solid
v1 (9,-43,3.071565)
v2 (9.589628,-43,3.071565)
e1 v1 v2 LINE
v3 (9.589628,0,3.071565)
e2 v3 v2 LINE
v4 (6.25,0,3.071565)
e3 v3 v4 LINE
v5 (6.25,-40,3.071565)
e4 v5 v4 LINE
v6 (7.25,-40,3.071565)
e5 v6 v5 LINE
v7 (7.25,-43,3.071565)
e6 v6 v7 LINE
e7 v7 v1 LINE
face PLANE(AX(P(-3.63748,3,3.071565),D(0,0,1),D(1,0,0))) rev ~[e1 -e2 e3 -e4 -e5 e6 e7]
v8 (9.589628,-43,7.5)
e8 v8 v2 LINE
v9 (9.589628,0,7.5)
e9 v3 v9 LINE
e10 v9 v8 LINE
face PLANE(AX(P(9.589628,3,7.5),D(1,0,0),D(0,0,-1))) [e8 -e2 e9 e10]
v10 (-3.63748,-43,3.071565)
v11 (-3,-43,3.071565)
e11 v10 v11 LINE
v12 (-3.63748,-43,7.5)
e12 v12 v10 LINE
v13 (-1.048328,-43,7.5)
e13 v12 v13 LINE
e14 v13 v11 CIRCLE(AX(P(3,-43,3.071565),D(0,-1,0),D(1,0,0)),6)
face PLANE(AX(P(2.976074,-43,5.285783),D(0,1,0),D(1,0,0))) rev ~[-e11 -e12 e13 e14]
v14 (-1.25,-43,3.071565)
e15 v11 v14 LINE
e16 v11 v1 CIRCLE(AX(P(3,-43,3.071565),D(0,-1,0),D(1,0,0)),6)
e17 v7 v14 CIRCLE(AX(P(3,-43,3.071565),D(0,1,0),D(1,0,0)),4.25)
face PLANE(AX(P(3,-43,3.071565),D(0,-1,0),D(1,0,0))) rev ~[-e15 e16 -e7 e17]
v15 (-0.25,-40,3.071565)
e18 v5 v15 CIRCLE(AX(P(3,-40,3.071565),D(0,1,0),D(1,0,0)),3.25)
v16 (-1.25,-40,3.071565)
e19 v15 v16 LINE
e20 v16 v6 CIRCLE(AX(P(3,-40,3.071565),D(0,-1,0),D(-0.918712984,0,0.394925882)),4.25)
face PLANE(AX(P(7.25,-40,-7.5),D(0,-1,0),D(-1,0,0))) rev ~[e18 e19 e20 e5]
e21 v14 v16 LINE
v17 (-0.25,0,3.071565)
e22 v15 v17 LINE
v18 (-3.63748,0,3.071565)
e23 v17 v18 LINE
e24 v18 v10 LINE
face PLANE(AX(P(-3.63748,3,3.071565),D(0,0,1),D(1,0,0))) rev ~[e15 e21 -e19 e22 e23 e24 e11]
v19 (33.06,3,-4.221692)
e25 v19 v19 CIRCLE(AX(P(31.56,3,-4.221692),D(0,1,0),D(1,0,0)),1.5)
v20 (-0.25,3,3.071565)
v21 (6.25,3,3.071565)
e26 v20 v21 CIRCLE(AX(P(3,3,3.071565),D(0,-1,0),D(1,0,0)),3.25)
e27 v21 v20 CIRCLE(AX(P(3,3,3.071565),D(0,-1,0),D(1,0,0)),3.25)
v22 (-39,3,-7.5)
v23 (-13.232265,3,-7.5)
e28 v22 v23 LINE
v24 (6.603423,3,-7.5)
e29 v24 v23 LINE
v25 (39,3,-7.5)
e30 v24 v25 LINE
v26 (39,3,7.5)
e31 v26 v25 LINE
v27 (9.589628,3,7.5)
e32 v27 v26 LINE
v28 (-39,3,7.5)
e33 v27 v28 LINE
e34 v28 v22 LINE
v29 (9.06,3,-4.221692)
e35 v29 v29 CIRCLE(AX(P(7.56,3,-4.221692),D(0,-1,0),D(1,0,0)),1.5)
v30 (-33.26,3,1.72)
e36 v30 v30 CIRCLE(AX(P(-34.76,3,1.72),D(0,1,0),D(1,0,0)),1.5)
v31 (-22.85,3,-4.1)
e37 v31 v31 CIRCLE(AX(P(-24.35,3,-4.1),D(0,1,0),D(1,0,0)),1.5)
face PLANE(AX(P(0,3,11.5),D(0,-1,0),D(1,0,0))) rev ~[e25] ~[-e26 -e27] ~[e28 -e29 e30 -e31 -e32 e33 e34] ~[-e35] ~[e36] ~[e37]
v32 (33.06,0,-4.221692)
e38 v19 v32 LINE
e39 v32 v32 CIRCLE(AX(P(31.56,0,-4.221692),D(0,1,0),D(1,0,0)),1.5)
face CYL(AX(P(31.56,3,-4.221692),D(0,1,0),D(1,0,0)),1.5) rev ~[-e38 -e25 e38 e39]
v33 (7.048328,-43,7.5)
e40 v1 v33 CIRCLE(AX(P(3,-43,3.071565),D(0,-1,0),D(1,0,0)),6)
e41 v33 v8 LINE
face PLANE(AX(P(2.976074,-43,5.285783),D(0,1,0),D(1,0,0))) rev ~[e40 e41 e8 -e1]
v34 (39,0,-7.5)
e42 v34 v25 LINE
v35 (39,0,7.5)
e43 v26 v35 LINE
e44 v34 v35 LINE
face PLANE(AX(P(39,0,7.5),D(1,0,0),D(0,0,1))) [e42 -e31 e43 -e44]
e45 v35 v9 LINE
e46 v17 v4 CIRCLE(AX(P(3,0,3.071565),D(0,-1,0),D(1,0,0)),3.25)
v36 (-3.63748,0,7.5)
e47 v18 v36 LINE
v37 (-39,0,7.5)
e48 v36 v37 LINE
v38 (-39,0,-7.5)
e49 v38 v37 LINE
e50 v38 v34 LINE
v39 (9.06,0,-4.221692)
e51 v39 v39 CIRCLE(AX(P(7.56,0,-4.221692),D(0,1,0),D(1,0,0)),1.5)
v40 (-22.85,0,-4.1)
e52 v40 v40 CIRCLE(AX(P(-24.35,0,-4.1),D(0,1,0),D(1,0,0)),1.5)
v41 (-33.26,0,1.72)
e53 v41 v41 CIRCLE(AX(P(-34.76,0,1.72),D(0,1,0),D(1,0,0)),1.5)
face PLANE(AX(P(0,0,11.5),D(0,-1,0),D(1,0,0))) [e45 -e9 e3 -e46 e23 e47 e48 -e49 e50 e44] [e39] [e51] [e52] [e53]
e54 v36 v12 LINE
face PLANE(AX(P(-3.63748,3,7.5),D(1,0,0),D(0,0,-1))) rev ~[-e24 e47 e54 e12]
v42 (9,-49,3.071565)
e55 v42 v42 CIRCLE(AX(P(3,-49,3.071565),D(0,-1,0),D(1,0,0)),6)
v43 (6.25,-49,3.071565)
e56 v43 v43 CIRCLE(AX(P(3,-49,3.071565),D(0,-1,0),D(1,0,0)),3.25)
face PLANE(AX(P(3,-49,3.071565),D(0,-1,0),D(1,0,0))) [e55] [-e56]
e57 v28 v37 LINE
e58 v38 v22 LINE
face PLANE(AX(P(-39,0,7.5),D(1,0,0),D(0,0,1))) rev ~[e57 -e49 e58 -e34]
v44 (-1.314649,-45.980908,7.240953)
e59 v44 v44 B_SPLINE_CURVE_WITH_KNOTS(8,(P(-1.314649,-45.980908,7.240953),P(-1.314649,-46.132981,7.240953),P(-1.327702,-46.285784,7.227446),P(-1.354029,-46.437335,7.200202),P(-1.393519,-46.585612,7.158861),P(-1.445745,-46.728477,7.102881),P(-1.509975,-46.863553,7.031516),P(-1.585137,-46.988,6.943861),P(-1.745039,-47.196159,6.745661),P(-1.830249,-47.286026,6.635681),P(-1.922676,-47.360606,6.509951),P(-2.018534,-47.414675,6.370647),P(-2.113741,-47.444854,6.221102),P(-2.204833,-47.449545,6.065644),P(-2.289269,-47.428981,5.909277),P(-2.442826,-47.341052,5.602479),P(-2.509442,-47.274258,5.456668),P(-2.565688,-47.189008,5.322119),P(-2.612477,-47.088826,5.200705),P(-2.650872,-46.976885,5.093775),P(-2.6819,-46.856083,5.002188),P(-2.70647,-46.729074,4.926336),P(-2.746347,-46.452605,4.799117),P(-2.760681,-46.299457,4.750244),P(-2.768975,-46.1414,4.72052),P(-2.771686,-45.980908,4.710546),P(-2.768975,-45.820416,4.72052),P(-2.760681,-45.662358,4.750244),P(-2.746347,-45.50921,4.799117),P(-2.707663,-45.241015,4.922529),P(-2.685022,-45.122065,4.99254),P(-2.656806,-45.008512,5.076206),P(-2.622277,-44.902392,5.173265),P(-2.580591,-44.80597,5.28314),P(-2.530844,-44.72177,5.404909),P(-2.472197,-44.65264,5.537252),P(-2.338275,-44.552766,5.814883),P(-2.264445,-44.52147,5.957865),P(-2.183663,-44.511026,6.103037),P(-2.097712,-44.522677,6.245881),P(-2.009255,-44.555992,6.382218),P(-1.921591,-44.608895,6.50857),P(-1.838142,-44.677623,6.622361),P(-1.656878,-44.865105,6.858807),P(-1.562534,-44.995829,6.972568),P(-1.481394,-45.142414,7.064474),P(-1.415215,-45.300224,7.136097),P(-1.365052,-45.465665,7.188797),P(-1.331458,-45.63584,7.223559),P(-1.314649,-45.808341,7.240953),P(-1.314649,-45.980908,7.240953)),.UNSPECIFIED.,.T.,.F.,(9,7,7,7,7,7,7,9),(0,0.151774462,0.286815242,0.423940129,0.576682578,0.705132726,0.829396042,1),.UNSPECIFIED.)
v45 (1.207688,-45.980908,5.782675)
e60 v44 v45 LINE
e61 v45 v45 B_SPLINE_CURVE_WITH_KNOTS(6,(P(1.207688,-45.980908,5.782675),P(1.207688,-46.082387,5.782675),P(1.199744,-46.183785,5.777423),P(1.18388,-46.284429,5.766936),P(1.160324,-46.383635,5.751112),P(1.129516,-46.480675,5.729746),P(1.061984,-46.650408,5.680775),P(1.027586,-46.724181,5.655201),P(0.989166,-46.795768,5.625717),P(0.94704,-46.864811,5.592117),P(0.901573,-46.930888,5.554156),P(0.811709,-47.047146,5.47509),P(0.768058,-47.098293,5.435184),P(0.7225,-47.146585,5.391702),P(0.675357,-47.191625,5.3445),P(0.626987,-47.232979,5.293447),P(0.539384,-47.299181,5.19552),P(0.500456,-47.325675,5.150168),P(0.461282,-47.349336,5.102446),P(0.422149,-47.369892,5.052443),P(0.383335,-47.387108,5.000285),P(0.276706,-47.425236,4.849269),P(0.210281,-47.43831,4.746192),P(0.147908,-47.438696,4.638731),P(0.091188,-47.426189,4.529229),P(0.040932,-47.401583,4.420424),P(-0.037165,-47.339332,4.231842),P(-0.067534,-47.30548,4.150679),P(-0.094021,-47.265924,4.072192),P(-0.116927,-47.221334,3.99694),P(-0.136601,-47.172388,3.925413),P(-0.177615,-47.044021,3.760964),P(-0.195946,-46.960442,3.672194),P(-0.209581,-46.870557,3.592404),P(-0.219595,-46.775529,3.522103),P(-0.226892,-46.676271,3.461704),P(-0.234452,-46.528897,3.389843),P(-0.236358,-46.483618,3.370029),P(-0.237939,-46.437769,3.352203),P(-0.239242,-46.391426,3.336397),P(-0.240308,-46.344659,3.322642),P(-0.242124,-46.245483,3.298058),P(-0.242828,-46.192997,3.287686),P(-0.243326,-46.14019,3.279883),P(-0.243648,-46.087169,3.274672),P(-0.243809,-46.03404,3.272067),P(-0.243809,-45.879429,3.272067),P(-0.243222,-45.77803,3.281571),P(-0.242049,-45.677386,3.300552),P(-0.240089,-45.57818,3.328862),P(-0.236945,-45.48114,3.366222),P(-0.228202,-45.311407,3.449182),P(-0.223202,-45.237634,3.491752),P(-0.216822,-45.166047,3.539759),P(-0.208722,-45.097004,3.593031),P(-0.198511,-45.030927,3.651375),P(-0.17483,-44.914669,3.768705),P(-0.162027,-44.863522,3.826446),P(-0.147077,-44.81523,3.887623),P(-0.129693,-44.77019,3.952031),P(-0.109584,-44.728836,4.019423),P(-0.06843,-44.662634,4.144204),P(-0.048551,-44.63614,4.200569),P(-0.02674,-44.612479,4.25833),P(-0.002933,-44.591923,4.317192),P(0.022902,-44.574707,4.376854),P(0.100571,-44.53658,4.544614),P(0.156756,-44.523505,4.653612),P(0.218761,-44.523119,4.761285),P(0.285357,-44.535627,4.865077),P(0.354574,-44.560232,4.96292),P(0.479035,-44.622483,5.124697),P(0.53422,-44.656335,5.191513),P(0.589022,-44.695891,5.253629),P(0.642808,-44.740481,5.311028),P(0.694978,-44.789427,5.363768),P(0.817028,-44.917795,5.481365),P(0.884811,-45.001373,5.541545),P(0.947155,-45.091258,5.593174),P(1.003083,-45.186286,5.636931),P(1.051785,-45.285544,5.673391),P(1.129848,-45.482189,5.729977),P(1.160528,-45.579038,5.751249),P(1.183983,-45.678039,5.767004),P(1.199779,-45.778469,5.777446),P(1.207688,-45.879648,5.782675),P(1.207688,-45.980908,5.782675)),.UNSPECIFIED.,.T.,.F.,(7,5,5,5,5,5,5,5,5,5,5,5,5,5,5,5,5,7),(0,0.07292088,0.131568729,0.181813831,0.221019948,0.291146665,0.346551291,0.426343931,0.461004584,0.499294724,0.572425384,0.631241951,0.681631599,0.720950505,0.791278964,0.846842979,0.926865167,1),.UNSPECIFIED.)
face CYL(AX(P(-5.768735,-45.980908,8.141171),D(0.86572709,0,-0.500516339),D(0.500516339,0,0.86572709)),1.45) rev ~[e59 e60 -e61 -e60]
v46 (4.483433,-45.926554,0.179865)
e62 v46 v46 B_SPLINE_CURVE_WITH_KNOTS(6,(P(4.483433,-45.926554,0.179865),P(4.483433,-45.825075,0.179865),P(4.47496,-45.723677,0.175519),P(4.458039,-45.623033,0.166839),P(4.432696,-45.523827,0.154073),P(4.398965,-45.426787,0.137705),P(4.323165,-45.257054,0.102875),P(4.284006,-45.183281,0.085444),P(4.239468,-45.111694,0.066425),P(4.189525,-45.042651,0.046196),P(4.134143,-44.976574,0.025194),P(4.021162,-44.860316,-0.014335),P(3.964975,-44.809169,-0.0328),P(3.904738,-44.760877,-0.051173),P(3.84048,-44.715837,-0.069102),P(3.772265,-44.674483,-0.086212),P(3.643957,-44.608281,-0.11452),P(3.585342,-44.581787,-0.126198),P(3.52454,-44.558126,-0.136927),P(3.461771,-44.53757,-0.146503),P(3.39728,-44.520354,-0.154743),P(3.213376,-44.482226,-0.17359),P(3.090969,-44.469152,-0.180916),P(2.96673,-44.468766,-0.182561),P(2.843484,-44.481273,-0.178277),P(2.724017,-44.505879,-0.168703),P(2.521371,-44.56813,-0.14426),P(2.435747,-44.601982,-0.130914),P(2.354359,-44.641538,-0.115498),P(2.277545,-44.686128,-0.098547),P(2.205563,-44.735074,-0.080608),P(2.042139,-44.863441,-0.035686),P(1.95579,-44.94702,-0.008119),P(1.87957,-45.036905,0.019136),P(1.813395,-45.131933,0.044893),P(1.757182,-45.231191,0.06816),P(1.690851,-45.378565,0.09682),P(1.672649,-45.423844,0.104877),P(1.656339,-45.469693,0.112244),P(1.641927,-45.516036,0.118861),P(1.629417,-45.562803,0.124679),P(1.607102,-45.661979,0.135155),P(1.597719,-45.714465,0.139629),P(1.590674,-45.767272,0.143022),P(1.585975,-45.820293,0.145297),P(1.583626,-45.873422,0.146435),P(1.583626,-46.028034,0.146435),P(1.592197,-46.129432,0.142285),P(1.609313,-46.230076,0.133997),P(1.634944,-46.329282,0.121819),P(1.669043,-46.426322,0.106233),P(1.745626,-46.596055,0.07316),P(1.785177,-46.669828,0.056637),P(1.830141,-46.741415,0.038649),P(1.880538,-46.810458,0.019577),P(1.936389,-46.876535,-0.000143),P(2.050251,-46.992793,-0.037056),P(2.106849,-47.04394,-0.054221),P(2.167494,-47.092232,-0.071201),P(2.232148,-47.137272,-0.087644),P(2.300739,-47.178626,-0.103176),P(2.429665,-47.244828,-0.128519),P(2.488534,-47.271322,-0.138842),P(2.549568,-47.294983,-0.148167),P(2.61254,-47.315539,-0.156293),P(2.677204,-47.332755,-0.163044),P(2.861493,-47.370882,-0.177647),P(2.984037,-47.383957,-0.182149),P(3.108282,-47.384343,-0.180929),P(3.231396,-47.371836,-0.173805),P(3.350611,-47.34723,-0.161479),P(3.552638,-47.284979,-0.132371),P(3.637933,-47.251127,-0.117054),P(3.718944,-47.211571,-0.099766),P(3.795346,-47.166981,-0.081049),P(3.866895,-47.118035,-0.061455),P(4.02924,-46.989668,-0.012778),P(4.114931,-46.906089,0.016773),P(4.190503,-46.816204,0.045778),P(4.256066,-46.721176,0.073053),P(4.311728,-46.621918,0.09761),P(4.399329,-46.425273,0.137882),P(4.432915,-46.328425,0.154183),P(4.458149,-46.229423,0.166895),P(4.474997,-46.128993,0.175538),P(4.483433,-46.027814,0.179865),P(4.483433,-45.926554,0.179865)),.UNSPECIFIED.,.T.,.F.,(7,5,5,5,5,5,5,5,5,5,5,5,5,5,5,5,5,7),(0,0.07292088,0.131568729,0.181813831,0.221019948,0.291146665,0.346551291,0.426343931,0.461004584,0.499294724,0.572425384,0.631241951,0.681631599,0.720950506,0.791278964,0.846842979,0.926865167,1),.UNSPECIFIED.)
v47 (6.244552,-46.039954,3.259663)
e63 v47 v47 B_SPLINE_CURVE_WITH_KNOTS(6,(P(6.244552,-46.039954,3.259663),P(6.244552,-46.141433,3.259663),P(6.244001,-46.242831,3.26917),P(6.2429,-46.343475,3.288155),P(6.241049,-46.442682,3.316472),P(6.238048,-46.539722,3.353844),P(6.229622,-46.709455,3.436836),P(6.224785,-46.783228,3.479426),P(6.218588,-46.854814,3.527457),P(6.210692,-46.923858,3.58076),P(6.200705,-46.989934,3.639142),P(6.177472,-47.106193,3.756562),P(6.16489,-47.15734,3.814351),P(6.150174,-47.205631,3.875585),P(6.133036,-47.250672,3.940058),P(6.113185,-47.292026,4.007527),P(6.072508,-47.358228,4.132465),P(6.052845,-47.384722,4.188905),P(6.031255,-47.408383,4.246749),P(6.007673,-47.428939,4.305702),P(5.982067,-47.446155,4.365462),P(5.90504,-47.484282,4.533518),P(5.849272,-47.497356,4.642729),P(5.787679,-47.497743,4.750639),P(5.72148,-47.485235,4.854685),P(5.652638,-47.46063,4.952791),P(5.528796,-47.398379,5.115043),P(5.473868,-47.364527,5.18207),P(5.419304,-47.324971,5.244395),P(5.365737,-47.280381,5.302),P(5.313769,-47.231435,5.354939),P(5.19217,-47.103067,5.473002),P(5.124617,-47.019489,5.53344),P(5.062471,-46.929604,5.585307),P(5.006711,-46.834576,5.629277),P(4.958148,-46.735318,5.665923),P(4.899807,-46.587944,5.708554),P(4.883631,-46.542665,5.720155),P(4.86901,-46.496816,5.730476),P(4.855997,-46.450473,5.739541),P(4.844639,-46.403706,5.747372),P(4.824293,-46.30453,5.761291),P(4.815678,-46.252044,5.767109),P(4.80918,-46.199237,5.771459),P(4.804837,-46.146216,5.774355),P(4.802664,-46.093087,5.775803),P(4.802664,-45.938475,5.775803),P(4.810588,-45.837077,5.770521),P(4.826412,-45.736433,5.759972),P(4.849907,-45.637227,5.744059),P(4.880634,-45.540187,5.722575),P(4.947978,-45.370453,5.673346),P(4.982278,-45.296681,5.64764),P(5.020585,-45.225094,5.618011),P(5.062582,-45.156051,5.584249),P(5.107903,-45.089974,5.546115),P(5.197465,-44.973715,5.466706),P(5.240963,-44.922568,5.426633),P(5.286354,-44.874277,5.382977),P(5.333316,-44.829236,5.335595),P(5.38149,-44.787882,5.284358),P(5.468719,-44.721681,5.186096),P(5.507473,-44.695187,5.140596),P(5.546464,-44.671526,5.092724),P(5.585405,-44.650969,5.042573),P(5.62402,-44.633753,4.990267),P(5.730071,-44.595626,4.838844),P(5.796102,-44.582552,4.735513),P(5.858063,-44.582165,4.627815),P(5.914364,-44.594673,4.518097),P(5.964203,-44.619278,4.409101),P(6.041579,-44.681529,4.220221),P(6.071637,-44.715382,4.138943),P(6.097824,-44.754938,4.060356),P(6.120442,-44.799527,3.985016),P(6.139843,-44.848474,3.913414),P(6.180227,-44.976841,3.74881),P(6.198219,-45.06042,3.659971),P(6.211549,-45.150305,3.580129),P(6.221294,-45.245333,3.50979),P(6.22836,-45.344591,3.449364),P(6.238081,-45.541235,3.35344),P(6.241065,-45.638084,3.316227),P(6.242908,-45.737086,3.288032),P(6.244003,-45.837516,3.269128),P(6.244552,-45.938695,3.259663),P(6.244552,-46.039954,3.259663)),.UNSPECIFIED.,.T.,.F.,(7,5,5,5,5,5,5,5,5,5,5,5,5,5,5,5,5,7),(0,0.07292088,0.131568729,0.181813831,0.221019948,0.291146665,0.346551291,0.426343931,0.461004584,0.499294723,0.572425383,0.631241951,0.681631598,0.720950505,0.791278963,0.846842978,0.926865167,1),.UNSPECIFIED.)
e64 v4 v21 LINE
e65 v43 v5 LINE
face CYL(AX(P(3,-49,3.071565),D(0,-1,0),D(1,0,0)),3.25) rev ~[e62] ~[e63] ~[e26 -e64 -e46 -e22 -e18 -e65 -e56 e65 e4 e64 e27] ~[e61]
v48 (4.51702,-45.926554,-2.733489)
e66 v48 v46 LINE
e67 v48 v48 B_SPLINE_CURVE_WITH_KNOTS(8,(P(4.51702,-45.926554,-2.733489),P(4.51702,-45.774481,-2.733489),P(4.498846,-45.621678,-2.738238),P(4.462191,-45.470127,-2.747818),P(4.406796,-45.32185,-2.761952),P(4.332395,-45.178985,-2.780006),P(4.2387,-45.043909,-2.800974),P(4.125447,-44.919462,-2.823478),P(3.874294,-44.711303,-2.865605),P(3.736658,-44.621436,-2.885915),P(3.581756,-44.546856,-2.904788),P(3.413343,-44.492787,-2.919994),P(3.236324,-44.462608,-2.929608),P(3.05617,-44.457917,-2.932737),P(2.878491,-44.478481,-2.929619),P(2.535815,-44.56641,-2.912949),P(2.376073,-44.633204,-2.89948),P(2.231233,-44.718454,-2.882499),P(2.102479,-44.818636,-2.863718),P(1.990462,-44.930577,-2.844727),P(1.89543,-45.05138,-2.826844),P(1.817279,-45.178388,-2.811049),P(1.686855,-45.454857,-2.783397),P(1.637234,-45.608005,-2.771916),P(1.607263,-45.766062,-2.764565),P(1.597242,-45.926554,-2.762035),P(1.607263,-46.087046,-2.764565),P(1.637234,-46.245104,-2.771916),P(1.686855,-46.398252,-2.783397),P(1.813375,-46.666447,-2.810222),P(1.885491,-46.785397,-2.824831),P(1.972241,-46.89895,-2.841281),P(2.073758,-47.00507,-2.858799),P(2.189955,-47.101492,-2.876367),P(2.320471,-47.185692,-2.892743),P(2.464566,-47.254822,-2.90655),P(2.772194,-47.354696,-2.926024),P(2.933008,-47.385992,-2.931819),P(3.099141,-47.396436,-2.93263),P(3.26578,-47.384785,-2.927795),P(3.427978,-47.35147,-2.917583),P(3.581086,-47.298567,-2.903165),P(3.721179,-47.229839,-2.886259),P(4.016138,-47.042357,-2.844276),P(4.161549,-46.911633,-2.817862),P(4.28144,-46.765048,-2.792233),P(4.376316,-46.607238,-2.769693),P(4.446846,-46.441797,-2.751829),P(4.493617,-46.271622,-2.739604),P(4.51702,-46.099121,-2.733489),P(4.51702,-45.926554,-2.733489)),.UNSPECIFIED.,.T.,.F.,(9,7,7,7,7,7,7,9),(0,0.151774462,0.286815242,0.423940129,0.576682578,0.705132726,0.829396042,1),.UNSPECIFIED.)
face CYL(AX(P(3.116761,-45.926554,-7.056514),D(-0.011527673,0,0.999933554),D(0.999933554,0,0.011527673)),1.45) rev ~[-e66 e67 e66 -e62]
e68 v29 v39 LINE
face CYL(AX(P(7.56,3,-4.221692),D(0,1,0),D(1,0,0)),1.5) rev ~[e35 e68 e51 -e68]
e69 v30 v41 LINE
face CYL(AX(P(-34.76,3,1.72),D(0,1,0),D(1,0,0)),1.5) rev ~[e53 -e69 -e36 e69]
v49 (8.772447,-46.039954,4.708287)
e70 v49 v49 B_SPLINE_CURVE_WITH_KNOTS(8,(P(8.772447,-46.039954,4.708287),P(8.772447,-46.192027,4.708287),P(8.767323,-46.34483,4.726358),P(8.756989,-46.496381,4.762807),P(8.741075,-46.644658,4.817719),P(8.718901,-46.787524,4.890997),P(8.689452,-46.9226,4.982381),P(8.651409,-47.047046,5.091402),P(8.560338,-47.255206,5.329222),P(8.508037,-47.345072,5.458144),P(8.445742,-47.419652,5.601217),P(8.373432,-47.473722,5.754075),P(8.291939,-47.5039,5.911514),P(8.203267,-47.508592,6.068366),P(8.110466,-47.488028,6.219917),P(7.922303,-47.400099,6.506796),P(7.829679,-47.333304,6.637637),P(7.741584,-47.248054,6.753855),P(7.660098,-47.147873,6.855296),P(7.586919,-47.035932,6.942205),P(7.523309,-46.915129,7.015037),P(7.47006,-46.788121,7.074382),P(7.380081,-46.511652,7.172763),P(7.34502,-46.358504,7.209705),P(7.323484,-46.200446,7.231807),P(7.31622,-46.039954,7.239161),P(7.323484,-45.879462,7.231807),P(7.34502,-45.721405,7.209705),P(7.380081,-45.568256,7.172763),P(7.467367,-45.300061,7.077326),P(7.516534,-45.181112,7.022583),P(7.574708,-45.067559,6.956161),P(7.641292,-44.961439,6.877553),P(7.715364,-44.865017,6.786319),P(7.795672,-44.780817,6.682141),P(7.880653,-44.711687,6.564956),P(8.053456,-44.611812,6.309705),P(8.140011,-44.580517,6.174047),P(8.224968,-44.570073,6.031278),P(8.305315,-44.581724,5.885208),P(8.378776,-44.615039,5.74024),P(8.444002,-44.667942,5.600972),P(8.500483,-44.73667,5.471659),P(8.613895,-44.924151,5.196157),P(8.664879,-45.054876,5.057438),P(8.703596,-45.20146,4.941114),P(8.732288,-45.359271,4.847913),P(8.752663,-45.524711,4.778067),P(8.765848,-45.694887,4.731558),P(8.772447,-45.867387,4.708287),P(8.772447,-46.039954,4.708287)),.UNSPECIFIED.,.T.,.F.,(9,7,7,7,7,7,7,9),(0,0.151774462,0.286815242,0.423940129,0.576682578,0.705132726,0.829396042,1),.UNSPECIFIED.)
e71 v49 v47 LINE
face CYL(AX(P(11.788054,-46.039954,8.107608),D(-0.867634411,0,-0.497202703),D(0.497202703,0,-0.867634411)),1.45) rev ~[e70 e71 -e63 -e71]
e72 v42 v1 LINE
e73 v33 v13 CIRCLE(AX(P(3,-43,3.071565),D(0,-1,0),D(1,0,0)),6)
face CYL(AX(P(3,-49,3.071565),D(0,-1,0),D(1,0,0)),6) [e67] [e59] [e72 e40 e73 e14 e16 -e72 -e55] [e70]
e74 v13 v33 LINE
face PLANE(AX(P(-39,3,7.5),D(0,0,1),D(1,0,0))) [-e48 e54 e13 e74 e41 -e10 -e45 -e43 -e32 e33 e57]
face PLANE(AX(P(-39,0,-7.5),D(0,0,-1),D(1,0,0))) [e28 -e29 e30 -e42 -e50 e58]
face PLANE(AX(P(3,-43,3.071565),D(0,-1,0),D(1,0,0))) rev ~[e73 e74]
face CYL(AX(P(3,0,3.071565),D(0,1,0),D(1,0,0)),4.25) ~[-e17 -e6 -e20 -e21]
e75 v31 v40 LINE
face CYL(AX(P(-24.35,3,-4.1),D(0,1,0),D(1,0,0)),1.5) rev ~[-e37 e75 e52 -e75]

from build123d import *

# Parameters (mm, degrees)
SKETCH_1_W                = 78
SKETCH_1_H                = 15
EXTRUDE_1_DEPTH           = 3
SKETCH_3_R                = 1.5
CUT_EXTRUDE_1_DEPTH       = 3
SKETCH_4_R                = 6
EXTRUDE_2_DEPTH           = 18
SKETCH_5_R                = 4.5
CUT_EXTRUDE_2_DEPTH       = 21
F_2_0MM_2_D               = 3
F_2_0MM_2_DEPTH           = 4.5
F_2_0MM_2_TIP             = 1.5
F_2_0MM_2_ON_FACE_2_D     = 3
F_2_0MM_2_ON_FACE_2_DEPTH = 4.5
F_2_0MM_2_ON_FACE_2_TIP   = 1.5
SKETCH_10_W               = 6
SKETCH_10_H               = 10
CUT_EXTRUDE_3_DEPTH       = 7
SKETCH_13_W               = 19.835687411
SKETCH_13_H               = 21.610205193
CUT_EXTRUDE_4_DEPTH       = 20
SKETCH_14_W               = 11.523038103
SKETCH_14_H               = 10.49031299
EXTRUDE_3_DEPTH           = 3
SKETCH_18_W               = 78
SKETCH_18_H               = 8
EXTRUDE_4_DEPTH           = 3
SKETCH_19_W               = 36.767904102
SKETCH_19_H               = 2.5
EXTRUDE_5_DEPTH           = 12.5
SKETCH_23_R               = 1.65
CUT_EXTRUDE_6_DEPTH       = 12.5
SKETCH_25_W               = 4.236607592
SKETCH_25_H               = 5.36409187
EXTRUDE_7_DEPTH           = 2.5
SKETCH_26_R               = 1.6
CUT_EXTRUDE_7_DEPTH       = 2.5
SKETCH_27_W               = 21.346012392
SKETCH_27_H               = 6.594354882
EXTRUDE_8_DEPTH           = 2.5
SKETCH_28_W               = 36.767231154
SKETCH_28_H               = 5.91819544
EXTRUDE_9_DEPTH           = 2.5
SKETCH_29_W               = 27.660340415
SKETCH_29_H               = 3.5
CUT_EXTRUDE_9_DEPTH       = 2.5
SKETCH_30_W               = 78
SKETCH_30_H               = 8
CUT_EXTRUDE_10_DEPTH      = 100
SKETCH_31_W               = 60.820132647
SKETCH_31_H               = 3
EXTRUDE_10_DEPTH          = 49
SKETCH_32_W               = 48
SKETCH_32_H               = 3.2
CUT_EXTRUDE_11_DEPTH      = 49
SKETCH_33_W               = 15
SKETCH_33_H               = 49.05968874
CUT_EXTRUDE_12_DEPTH      = 100
SKETCH_34_R               = 4.25
EXTRUDE_11_DEPTH          = 49
SKETCH_35_R               = 6
EXTRUDE_12_DEPTH          = 6
SKETCH_36_W               = 8.5
SKETCH_36_H               = 40
CUT_EXTRUDE_13_DEPTH      = 11
SKETCH_37_R               = 3.25
CUT_EXTRUDE_16_DEPTH      = 100
SKETCH_39_W               = 8.456699936
SKETCH_39_H               = 16
CUT_EXTRUDE_17_DEPTH      = 1.25
F_3_0MM_1_D               = 2.9
F_3_0MM_1_DEPTH           = 4.128752102
F_3_0MM_1_TIP             = 0.871247898
F_3_0MM_2_D               = 2.9
F_3_0MM_2_DEPTH           = 4.128752102
F_3_0MM_2_TIP             = 0.871247898
F_3_0MM_3_D               = 2.9
F_3_0MM_3_DEPTH           = 4.128752102
F_3_0MM_3_TIP             = 0.871247898
SKETCH_46_W               = 13.227107738
SKETCH_46_H               = 4.428434999
EXTRUDE_13_DEPTH          = 46
CUT_EXTRUDE_18_DEPTH      = 55


with BuildPart() as part:
    # 草图1 → 凸台-拉伸1 (new body)
    with BuildSketch(Plane(origin=(0, 0, 0), x_dir=(1, 0, 0), z_dir=(0, 1, 0))):
        Rectangle(SKETCH_1_W, SKETCH_1_H)
    extrude(amount=EXTRUDE_1_DEPTH)

    # 草图3 → 切除-拉伸1 (cut)
    with BuildSketch(Plane(origin=(0, 3, 0), x_dir=(1, 0, 0), z_dir=(0, 1, 0))):
        with Locations((-34.76, -1.72)):
            Circle(SKETCH_3_R)
        with Locations((-24.35, 4.1)):
            Circle(SKETCH_3_R)
        with Locations((31.56, 4.221692081)):
            Circle(SKETCH_3_R)
        with Locations((7.56, 4.221692081)):
            Circle(SKETCH_3_R)
    extrude(amount=-CUT_EXTRUDE_1_DEPTH, mode=Mode.SUBTRACT)

    # 草图4 → 凸台-拉伸2 (add)
    with BuildSketch(Plane(origin=(0, 3, 0), x_dir=(1, 0, 0), z_dir=(0, 1, 0))):
        with Locations((-3, -1.234165229)):
            Circle(SKETCH_4_R)
    extrude(amount=EXTRUDE_2_DEPTH)

    # 草图5 → 切除-拉伸2 (cut)
    with BuildSketch(Plane(origin=(0, 21, 0), x_dir=(1, 0, 0), z_dir=(0, 1, 0))):
        with Locations((-3, -1.234165229)):
            Circle(SKETCH_5_R)
    extrude(amount=-CUT_EXTRUDE_2_DEPTH, mode=Mode.SUBTRACT)

    # Ø2.0mm 暗销孔2
    with Locations(Plane(origin=(-7.901331048, 17.342107422, 4.694938836), x_dir=(-0.576795601176, 0, -0.816888507977), z_dir=(-0.816888507977, 0, 0.576795601176))):
        with Locations((0, 0)):
            Hole(F_2_0MM_2_D / 2, depth=F_2_0MM_2_DEPTH)
            with Locations((0, 0, -(F_2_0MM_2_DEPTH + F_2_0MM_2_TIP / 2))):  # 90° drill point
                Cone(0, F_2_0MM_2_D / 2, F_2_0MM_2_TIP, mode=Mode.SUBTRACT)

    # Ø2.0mm 暗销孔2 on face 2
    with Locations(Plane(origin=(1.071764877, 17.164817099, 5.641061052), x_dir=(0.734483043181, 0, -0.678627039897), z_dir=(0.678627039897, 0, 0.734483043181))):
        with Locations((0, 0)):
            Hole(F_2_0MM_2_ON_FACE_2_D / 2, depth=F_2_0MM_2_ON_FACE_2_DEPTH)
            with Locations((0, 0, -(F_2_0MM_2_ON_FACE_2_DEPTH + F_2_0MM_2_ON_FACE_2_TIP / 2))):  # 90° drill point
                Cone(0, F_2_0MM_2_ON_FACE_2_D / 2, F_2_0MM_2_ON_FACE_2_TIP, mode=Mode.SUBTRACT)

    # 草图10 → 切除-拉伸3 (cut)
    with BuildSketch(Plane(origin=(0, 0, -7.5), x_dir=(-1, 0, 0), z_dir=(0, 0, -1))):
        with Locations((3, 8)):
            Rectangle(SKETCH_10_W, SKETCH_10_H)
    extrude(amount=-CUT_EXTRUDE_3_DEPTH, mode=Mode.SUBTRACT)

    # 草图13 → 切除-拉伸4 (cut)
    with BuildSketch(Plane(origin=(0, 0, -7.5), x_dir=(-1, 0, 0), z_dir=(0, 0, -1))):
        with Locations((3.314421038, 13.805102597)):
            Rectangle(SKETCH_13_W, SKETCH_13_H)
    extrude(amount=-CUT_EXTRUDE_4_DEPTH, mode=Mode.SUBTRACT)

    # 草图14 → 凸台-拉伸3 (add)
    with BuildSketch(Plane(origin=(0, 3, 0), x_dir=(1, 0, 0), z_dir=(0, 1, 0))):
        with Locations((-2.989467433, -1.263493391)):
            Rectangle(SKETCH_14_W, SKETCH_14_H)
    extrude(amount=-EXTRUDE_3_DEPTH)

    # 草图18 → 凸台-拉伸4 (add)
    with BuildSketch(Plane.XZ):
        with Locations((0, 11.5)):
            Rectangle(SKETCH_18_W, SKETCH_18_H)
    extrude(amount=-EXTRUDE_4_DEPTH)

    # 草图19 → 凸台-拉伸5 (add)
    with BuildSketch(Plane.XZ):
        with Locations((0.839237194, 14.25)):
            Rectangle(SKETCH_19_W, SKETCH_19_H)
    extrude(amount=EXTRUDE_5_DEPTH)

    # 草图23 → 切除-拉伸6 (cut)
    with BuildSketch(Plane(origin=(0, 0, 13), x_dir=(-1, 0, 0), z_dir=(0, 0, -1))):
        with Locations((-8.603189245, -6.05592298)):
            Circle(SKETCH_23_R)
        with Locations((2.596810755, -6.05592298)):
            Circle(SKETCH_23_R)
    extrude(amount=-CUT_EXTRUDE_6_DEPTH, mode=Mode.SUBTRACT)

    # 草图25 → 凸台-拉伸7 (add)
    with BuildSketch(Plane(origin=(0, 0, 13), x_dir=(-1, 0, 0), z_dir=(0, 0, -1))):
        with Locations((2.330668631, -6.426480946)):
            Rectangle(SKETCH_25_W, SKETCH_25_H)
    extrude(amount=-EXTRUDE_7_DEPTH)

    # 草图26 → 切除-拉伸7 (cut)
    with BuildSketch(Plane(origin=(0, 0, 13), x_dir=(-1, 0, 0), z_dir=(0, 0, -1))):
        with Locations((4.196810755, -6.05592298)):
            Circle(SKETCH_26_R)
    extrude(amount=-CUT_EXTRUDE_7_DEPTH, mode=Mode.SUBTRACT)

    # 草图27 → 凸台-拉伸8 (add)
    with BuildSketch(Plane(origin=(0, 0, 13), x_dir=(-1, 0, 0), z_dir=(0, 0, -1))):
        with Locations((-2.379316694, -6.691741876)):
            Rectangle(SKETCH_27_W, SKETCH_27_H)
    extrude(amount=-EXTRUDE_8_DEPTH)

    # 草图28 → 凸台-拉伸9 (add)
    with BuildSketch(Plane(origin=(0, 0, 13), x_dir=(-1, 0, 0), z_dir=(0, 0, -1))):
        with Locations((-0.839573668, -15.45909772)):
            Rectangle(SKETCH_28_W, SKETCH_28_H)
    extrude(amount=-EXTRUDE_9_DEPTH)

    # 草图29 → 切除-拉伸9 (cut)
    with BuildSketch(Plane(origin=(0, 0, 13), x_dir=(-1, 0, 0), z_dir=(0, 0, -1))):
        with Locations((-0.633763758, -13.394190827)):
            Rectangle(SKETCH_29_W, SKETCH_29_H)
    extrude(amount=-CUT_EXTRUDE_9_DEPTH, mode=Mode.SUBTRACT)

    # 草图30 → 切除-拉伸10 (cut)
    with BuildSketch(Plane(origin=(0, 3, 0), x_dir=(1, 0, 0), z_dir=(0, 1, 0))):
        with Locations((0, -11.5)):
            Rectangle(SKETCH_30_W, SKETCH_30_H)
    extrude(amount=-CUT_EXTRUDE_10_DEPTH, mode=Mode.SUBTRACT)

    # 草图31 → 凸台-拉伸10 (add)
    with BuildSketch(Plane.XZ):
        with Locations((0.65611444, 6)):
            Rectangle(SKETCH_31_W, SKETCH_31_H)
    extrude(amount=EXTRUDE_10_DEPTH)

    # 草图32 → 切除-拉伸11 (cut)
    with BuildSketch(Plane(origin=(0, 0, 4.5), x_dir=(-1, 0, 0), z_dir=(0, 0, -1))):
        with Locations((-0.15338956, -37.454114518)):
            Rectangle(SKETCH_32_W, SKETCH_32_H)
        with Locations((-0.189333293, -44.654114518)):
            Rectangle(SKETCH_32_W, SKETCH_32_H)
        with Locations((-0.173277927, -30.254114518)):
            Rectangle(SKETCH_32_W, SKETCH_32_H)
        with Locations((-0.205191163, -23.054114518)):
            Rectangle(SKETCH_32_W, SKETCH_32_H)
        with Locations((-0.175604554, -15.854114518)):
            Rectangle(SKETCH_32_W, SKETCH_32_H)
        with Locations((-0.276259634, -9.654114518)):
            Rectangle(SKETCH_32_W, SKETCH_32_H)
    extrude(amount=-CUT_EXTRUDE_11_DEPTH, mode=Mode.SUBTRACT)

    # 草图33 → 切除-拉伸12 (cut)
    with BuildSketch(Plane(origin=(31.066180764, 0, 0), x_dir=(0, 0, -1), z_dir=(1, 0, 0))):
        with Locations((0, -24.52984437)):
            Rectangle(SKETCH_33_W, SKETCH_33_H)
    extrude(amount=-CUT_EXTRUDE_12_DEPTH, mode=Mode.SUBTRACT)

    # 草图34 → 凸台-拉伸11 (add)
    with BuildSketch(Plane.XZ):
        with Locations((3, 3.071565001)):
            Circle(SKETCH_34_R)
    extrude(amount=EXTRUDE_11_DEPTH)

    # 草图35 → 凸台-拉伸12 (add)
    with BuildSketch(Plane.XZ.offset(49)):
        with Locations((3, 3.071565001)):
            Circle(SKETCH_35_R)
    extrude(amount=-EXTRUDE_12_DEPTH)

    # 草图36 → 切除-拉伸13 (cut)
    with BuildSketch(Plane(origin=(0, 0, -7.5), x_dir=(-1, 0, 0), z_dir=(0, 0, -1))):
        with Locations((-3, -20)):
            Rectangle(SKETCH_36_W, SKETCH_36_H)
    extrude(amount=-CUT_EXTRUDE_13_DEPTH, mode=Mode.SUBTRACT)

    # 草图37 → 切除-拉伸16 (cut)
    with BuildSketch(Plane.XZ.offset(49)):
        with Locations((3, 3.071565001)):
            Circle(SKETCH_37_R)
    extrude(amount=-CUT_EXTRUDE_16_DEPTH, mode=Mode.SUBTRACT)

    # 草图39 → 切除-拉伸17 (cut)
    with BuildSketch(Plane(origin=(0, 0, 3.5), x_dir=(-1, 0, 0), z_dir=(0, 0, -1))):
        with Locations((-3, -32)):
            Rectangle(SKETCH_39_W, SKETCH_39_H)
    extrude(amount=-CUT_EXTRUDE_17_DEPTH, mode=Mode.SUBTRACT)

    # Ø3.0mm 暗销孔1
    with Locations(Plane(origin=(3.06916604, -45.926554475, -2.928036324), x_dir=(-0.999933554166, 0, -0.011527673319), z_dir=(0.011527673319, 0, -0.999933554166))):
        with Locations((0, 0)):
            Hole(F_3_0MM_1_D / 2, depth=F_3_0MM_1_DEPTH)
            with Locations((0, 0, -(F_3_0MM_1_DEPTH + F_3_0MM_1_TIP / 2))):  # 118° drill point
                Cone(0, F_3_0MM_1_D / 2, F_3_0MM_1_TIP, mode=Mode.SUBTRACT)

    # Ø3.0mm 暗销孔2
    with Locations(Plane(origin=(-2.19436254, -45.980907568, 6.074663036), x_dir=(-0.500516339146, 0, -0.865727089936), z_dir=(-0.865727089936, 0, 0.500516339146))):
        with Locations((0, 0)):
            Hole(F_3_0MM_2_D / 2, depth=F_3_0MM_2_DEPTH)
            with Locations((0, 0, -(F_3_0MM_2_DEPTH + F_3_0MM_2_TIP / 2))):  # 118° drill point
                Cone(0, F_3_0MM_2_D / 2, F_3_0MM_2_TIP, mode=Mode.SUBTRACT)

    # Ø3.0mm 暗销孔3
    with Locations(Plane(origin=(8.205806468, -46.039954185, 6.054781221), x_dir=(-0.497202703373, 0, 0.86763441135), z_dir=(0.86763441135, 0, 0.497202703373))):
        with Locations((0, 0)):
            Hole(F_3_0MM_3_D / 2, depth=F_3_0MM_3_DEPTH)
            with Locations((0, 0, -(F_3_0MM_3_DEPTH + F_3_0MM_3_TIP / 2))):  # 118° drill point
                Cone(0, F_3_0MM_3_D / 2, F_3_0MM_3_TIP, mode=Mode.SUBTRACT)

    # 草图46 → 凸台-拉伸13 (add)
    with BuildSketch(Plane(origin=(0, 3, 0), x_dir=(1, 0, 0), z_dir=(0, 1, 0))):
        with Locations((2.976074231, -5.285782501)):
            Rectangle(SKETCH_46_W, SKETCH_46_H)
    extrude(amount=-EXTRUDE_13_DEPTH)

    # 草图48 → 切除-拉伸18 (cut)
    with BuildSketch(Plane.XZ.offset(49)):
        with BuildLine():
            Line((-0.25, 3.071565001), (6.25, 3.071565001))
            ThreePointArc((6.25, 3.071565001), (3, 6.321565001), (-0.25, 3.071565001))
        make_face()
    extrude(amount=-CUT_EXTRUDE_18_DEPTH, mode=Mode.SUBTRACT)


solid = part.part
